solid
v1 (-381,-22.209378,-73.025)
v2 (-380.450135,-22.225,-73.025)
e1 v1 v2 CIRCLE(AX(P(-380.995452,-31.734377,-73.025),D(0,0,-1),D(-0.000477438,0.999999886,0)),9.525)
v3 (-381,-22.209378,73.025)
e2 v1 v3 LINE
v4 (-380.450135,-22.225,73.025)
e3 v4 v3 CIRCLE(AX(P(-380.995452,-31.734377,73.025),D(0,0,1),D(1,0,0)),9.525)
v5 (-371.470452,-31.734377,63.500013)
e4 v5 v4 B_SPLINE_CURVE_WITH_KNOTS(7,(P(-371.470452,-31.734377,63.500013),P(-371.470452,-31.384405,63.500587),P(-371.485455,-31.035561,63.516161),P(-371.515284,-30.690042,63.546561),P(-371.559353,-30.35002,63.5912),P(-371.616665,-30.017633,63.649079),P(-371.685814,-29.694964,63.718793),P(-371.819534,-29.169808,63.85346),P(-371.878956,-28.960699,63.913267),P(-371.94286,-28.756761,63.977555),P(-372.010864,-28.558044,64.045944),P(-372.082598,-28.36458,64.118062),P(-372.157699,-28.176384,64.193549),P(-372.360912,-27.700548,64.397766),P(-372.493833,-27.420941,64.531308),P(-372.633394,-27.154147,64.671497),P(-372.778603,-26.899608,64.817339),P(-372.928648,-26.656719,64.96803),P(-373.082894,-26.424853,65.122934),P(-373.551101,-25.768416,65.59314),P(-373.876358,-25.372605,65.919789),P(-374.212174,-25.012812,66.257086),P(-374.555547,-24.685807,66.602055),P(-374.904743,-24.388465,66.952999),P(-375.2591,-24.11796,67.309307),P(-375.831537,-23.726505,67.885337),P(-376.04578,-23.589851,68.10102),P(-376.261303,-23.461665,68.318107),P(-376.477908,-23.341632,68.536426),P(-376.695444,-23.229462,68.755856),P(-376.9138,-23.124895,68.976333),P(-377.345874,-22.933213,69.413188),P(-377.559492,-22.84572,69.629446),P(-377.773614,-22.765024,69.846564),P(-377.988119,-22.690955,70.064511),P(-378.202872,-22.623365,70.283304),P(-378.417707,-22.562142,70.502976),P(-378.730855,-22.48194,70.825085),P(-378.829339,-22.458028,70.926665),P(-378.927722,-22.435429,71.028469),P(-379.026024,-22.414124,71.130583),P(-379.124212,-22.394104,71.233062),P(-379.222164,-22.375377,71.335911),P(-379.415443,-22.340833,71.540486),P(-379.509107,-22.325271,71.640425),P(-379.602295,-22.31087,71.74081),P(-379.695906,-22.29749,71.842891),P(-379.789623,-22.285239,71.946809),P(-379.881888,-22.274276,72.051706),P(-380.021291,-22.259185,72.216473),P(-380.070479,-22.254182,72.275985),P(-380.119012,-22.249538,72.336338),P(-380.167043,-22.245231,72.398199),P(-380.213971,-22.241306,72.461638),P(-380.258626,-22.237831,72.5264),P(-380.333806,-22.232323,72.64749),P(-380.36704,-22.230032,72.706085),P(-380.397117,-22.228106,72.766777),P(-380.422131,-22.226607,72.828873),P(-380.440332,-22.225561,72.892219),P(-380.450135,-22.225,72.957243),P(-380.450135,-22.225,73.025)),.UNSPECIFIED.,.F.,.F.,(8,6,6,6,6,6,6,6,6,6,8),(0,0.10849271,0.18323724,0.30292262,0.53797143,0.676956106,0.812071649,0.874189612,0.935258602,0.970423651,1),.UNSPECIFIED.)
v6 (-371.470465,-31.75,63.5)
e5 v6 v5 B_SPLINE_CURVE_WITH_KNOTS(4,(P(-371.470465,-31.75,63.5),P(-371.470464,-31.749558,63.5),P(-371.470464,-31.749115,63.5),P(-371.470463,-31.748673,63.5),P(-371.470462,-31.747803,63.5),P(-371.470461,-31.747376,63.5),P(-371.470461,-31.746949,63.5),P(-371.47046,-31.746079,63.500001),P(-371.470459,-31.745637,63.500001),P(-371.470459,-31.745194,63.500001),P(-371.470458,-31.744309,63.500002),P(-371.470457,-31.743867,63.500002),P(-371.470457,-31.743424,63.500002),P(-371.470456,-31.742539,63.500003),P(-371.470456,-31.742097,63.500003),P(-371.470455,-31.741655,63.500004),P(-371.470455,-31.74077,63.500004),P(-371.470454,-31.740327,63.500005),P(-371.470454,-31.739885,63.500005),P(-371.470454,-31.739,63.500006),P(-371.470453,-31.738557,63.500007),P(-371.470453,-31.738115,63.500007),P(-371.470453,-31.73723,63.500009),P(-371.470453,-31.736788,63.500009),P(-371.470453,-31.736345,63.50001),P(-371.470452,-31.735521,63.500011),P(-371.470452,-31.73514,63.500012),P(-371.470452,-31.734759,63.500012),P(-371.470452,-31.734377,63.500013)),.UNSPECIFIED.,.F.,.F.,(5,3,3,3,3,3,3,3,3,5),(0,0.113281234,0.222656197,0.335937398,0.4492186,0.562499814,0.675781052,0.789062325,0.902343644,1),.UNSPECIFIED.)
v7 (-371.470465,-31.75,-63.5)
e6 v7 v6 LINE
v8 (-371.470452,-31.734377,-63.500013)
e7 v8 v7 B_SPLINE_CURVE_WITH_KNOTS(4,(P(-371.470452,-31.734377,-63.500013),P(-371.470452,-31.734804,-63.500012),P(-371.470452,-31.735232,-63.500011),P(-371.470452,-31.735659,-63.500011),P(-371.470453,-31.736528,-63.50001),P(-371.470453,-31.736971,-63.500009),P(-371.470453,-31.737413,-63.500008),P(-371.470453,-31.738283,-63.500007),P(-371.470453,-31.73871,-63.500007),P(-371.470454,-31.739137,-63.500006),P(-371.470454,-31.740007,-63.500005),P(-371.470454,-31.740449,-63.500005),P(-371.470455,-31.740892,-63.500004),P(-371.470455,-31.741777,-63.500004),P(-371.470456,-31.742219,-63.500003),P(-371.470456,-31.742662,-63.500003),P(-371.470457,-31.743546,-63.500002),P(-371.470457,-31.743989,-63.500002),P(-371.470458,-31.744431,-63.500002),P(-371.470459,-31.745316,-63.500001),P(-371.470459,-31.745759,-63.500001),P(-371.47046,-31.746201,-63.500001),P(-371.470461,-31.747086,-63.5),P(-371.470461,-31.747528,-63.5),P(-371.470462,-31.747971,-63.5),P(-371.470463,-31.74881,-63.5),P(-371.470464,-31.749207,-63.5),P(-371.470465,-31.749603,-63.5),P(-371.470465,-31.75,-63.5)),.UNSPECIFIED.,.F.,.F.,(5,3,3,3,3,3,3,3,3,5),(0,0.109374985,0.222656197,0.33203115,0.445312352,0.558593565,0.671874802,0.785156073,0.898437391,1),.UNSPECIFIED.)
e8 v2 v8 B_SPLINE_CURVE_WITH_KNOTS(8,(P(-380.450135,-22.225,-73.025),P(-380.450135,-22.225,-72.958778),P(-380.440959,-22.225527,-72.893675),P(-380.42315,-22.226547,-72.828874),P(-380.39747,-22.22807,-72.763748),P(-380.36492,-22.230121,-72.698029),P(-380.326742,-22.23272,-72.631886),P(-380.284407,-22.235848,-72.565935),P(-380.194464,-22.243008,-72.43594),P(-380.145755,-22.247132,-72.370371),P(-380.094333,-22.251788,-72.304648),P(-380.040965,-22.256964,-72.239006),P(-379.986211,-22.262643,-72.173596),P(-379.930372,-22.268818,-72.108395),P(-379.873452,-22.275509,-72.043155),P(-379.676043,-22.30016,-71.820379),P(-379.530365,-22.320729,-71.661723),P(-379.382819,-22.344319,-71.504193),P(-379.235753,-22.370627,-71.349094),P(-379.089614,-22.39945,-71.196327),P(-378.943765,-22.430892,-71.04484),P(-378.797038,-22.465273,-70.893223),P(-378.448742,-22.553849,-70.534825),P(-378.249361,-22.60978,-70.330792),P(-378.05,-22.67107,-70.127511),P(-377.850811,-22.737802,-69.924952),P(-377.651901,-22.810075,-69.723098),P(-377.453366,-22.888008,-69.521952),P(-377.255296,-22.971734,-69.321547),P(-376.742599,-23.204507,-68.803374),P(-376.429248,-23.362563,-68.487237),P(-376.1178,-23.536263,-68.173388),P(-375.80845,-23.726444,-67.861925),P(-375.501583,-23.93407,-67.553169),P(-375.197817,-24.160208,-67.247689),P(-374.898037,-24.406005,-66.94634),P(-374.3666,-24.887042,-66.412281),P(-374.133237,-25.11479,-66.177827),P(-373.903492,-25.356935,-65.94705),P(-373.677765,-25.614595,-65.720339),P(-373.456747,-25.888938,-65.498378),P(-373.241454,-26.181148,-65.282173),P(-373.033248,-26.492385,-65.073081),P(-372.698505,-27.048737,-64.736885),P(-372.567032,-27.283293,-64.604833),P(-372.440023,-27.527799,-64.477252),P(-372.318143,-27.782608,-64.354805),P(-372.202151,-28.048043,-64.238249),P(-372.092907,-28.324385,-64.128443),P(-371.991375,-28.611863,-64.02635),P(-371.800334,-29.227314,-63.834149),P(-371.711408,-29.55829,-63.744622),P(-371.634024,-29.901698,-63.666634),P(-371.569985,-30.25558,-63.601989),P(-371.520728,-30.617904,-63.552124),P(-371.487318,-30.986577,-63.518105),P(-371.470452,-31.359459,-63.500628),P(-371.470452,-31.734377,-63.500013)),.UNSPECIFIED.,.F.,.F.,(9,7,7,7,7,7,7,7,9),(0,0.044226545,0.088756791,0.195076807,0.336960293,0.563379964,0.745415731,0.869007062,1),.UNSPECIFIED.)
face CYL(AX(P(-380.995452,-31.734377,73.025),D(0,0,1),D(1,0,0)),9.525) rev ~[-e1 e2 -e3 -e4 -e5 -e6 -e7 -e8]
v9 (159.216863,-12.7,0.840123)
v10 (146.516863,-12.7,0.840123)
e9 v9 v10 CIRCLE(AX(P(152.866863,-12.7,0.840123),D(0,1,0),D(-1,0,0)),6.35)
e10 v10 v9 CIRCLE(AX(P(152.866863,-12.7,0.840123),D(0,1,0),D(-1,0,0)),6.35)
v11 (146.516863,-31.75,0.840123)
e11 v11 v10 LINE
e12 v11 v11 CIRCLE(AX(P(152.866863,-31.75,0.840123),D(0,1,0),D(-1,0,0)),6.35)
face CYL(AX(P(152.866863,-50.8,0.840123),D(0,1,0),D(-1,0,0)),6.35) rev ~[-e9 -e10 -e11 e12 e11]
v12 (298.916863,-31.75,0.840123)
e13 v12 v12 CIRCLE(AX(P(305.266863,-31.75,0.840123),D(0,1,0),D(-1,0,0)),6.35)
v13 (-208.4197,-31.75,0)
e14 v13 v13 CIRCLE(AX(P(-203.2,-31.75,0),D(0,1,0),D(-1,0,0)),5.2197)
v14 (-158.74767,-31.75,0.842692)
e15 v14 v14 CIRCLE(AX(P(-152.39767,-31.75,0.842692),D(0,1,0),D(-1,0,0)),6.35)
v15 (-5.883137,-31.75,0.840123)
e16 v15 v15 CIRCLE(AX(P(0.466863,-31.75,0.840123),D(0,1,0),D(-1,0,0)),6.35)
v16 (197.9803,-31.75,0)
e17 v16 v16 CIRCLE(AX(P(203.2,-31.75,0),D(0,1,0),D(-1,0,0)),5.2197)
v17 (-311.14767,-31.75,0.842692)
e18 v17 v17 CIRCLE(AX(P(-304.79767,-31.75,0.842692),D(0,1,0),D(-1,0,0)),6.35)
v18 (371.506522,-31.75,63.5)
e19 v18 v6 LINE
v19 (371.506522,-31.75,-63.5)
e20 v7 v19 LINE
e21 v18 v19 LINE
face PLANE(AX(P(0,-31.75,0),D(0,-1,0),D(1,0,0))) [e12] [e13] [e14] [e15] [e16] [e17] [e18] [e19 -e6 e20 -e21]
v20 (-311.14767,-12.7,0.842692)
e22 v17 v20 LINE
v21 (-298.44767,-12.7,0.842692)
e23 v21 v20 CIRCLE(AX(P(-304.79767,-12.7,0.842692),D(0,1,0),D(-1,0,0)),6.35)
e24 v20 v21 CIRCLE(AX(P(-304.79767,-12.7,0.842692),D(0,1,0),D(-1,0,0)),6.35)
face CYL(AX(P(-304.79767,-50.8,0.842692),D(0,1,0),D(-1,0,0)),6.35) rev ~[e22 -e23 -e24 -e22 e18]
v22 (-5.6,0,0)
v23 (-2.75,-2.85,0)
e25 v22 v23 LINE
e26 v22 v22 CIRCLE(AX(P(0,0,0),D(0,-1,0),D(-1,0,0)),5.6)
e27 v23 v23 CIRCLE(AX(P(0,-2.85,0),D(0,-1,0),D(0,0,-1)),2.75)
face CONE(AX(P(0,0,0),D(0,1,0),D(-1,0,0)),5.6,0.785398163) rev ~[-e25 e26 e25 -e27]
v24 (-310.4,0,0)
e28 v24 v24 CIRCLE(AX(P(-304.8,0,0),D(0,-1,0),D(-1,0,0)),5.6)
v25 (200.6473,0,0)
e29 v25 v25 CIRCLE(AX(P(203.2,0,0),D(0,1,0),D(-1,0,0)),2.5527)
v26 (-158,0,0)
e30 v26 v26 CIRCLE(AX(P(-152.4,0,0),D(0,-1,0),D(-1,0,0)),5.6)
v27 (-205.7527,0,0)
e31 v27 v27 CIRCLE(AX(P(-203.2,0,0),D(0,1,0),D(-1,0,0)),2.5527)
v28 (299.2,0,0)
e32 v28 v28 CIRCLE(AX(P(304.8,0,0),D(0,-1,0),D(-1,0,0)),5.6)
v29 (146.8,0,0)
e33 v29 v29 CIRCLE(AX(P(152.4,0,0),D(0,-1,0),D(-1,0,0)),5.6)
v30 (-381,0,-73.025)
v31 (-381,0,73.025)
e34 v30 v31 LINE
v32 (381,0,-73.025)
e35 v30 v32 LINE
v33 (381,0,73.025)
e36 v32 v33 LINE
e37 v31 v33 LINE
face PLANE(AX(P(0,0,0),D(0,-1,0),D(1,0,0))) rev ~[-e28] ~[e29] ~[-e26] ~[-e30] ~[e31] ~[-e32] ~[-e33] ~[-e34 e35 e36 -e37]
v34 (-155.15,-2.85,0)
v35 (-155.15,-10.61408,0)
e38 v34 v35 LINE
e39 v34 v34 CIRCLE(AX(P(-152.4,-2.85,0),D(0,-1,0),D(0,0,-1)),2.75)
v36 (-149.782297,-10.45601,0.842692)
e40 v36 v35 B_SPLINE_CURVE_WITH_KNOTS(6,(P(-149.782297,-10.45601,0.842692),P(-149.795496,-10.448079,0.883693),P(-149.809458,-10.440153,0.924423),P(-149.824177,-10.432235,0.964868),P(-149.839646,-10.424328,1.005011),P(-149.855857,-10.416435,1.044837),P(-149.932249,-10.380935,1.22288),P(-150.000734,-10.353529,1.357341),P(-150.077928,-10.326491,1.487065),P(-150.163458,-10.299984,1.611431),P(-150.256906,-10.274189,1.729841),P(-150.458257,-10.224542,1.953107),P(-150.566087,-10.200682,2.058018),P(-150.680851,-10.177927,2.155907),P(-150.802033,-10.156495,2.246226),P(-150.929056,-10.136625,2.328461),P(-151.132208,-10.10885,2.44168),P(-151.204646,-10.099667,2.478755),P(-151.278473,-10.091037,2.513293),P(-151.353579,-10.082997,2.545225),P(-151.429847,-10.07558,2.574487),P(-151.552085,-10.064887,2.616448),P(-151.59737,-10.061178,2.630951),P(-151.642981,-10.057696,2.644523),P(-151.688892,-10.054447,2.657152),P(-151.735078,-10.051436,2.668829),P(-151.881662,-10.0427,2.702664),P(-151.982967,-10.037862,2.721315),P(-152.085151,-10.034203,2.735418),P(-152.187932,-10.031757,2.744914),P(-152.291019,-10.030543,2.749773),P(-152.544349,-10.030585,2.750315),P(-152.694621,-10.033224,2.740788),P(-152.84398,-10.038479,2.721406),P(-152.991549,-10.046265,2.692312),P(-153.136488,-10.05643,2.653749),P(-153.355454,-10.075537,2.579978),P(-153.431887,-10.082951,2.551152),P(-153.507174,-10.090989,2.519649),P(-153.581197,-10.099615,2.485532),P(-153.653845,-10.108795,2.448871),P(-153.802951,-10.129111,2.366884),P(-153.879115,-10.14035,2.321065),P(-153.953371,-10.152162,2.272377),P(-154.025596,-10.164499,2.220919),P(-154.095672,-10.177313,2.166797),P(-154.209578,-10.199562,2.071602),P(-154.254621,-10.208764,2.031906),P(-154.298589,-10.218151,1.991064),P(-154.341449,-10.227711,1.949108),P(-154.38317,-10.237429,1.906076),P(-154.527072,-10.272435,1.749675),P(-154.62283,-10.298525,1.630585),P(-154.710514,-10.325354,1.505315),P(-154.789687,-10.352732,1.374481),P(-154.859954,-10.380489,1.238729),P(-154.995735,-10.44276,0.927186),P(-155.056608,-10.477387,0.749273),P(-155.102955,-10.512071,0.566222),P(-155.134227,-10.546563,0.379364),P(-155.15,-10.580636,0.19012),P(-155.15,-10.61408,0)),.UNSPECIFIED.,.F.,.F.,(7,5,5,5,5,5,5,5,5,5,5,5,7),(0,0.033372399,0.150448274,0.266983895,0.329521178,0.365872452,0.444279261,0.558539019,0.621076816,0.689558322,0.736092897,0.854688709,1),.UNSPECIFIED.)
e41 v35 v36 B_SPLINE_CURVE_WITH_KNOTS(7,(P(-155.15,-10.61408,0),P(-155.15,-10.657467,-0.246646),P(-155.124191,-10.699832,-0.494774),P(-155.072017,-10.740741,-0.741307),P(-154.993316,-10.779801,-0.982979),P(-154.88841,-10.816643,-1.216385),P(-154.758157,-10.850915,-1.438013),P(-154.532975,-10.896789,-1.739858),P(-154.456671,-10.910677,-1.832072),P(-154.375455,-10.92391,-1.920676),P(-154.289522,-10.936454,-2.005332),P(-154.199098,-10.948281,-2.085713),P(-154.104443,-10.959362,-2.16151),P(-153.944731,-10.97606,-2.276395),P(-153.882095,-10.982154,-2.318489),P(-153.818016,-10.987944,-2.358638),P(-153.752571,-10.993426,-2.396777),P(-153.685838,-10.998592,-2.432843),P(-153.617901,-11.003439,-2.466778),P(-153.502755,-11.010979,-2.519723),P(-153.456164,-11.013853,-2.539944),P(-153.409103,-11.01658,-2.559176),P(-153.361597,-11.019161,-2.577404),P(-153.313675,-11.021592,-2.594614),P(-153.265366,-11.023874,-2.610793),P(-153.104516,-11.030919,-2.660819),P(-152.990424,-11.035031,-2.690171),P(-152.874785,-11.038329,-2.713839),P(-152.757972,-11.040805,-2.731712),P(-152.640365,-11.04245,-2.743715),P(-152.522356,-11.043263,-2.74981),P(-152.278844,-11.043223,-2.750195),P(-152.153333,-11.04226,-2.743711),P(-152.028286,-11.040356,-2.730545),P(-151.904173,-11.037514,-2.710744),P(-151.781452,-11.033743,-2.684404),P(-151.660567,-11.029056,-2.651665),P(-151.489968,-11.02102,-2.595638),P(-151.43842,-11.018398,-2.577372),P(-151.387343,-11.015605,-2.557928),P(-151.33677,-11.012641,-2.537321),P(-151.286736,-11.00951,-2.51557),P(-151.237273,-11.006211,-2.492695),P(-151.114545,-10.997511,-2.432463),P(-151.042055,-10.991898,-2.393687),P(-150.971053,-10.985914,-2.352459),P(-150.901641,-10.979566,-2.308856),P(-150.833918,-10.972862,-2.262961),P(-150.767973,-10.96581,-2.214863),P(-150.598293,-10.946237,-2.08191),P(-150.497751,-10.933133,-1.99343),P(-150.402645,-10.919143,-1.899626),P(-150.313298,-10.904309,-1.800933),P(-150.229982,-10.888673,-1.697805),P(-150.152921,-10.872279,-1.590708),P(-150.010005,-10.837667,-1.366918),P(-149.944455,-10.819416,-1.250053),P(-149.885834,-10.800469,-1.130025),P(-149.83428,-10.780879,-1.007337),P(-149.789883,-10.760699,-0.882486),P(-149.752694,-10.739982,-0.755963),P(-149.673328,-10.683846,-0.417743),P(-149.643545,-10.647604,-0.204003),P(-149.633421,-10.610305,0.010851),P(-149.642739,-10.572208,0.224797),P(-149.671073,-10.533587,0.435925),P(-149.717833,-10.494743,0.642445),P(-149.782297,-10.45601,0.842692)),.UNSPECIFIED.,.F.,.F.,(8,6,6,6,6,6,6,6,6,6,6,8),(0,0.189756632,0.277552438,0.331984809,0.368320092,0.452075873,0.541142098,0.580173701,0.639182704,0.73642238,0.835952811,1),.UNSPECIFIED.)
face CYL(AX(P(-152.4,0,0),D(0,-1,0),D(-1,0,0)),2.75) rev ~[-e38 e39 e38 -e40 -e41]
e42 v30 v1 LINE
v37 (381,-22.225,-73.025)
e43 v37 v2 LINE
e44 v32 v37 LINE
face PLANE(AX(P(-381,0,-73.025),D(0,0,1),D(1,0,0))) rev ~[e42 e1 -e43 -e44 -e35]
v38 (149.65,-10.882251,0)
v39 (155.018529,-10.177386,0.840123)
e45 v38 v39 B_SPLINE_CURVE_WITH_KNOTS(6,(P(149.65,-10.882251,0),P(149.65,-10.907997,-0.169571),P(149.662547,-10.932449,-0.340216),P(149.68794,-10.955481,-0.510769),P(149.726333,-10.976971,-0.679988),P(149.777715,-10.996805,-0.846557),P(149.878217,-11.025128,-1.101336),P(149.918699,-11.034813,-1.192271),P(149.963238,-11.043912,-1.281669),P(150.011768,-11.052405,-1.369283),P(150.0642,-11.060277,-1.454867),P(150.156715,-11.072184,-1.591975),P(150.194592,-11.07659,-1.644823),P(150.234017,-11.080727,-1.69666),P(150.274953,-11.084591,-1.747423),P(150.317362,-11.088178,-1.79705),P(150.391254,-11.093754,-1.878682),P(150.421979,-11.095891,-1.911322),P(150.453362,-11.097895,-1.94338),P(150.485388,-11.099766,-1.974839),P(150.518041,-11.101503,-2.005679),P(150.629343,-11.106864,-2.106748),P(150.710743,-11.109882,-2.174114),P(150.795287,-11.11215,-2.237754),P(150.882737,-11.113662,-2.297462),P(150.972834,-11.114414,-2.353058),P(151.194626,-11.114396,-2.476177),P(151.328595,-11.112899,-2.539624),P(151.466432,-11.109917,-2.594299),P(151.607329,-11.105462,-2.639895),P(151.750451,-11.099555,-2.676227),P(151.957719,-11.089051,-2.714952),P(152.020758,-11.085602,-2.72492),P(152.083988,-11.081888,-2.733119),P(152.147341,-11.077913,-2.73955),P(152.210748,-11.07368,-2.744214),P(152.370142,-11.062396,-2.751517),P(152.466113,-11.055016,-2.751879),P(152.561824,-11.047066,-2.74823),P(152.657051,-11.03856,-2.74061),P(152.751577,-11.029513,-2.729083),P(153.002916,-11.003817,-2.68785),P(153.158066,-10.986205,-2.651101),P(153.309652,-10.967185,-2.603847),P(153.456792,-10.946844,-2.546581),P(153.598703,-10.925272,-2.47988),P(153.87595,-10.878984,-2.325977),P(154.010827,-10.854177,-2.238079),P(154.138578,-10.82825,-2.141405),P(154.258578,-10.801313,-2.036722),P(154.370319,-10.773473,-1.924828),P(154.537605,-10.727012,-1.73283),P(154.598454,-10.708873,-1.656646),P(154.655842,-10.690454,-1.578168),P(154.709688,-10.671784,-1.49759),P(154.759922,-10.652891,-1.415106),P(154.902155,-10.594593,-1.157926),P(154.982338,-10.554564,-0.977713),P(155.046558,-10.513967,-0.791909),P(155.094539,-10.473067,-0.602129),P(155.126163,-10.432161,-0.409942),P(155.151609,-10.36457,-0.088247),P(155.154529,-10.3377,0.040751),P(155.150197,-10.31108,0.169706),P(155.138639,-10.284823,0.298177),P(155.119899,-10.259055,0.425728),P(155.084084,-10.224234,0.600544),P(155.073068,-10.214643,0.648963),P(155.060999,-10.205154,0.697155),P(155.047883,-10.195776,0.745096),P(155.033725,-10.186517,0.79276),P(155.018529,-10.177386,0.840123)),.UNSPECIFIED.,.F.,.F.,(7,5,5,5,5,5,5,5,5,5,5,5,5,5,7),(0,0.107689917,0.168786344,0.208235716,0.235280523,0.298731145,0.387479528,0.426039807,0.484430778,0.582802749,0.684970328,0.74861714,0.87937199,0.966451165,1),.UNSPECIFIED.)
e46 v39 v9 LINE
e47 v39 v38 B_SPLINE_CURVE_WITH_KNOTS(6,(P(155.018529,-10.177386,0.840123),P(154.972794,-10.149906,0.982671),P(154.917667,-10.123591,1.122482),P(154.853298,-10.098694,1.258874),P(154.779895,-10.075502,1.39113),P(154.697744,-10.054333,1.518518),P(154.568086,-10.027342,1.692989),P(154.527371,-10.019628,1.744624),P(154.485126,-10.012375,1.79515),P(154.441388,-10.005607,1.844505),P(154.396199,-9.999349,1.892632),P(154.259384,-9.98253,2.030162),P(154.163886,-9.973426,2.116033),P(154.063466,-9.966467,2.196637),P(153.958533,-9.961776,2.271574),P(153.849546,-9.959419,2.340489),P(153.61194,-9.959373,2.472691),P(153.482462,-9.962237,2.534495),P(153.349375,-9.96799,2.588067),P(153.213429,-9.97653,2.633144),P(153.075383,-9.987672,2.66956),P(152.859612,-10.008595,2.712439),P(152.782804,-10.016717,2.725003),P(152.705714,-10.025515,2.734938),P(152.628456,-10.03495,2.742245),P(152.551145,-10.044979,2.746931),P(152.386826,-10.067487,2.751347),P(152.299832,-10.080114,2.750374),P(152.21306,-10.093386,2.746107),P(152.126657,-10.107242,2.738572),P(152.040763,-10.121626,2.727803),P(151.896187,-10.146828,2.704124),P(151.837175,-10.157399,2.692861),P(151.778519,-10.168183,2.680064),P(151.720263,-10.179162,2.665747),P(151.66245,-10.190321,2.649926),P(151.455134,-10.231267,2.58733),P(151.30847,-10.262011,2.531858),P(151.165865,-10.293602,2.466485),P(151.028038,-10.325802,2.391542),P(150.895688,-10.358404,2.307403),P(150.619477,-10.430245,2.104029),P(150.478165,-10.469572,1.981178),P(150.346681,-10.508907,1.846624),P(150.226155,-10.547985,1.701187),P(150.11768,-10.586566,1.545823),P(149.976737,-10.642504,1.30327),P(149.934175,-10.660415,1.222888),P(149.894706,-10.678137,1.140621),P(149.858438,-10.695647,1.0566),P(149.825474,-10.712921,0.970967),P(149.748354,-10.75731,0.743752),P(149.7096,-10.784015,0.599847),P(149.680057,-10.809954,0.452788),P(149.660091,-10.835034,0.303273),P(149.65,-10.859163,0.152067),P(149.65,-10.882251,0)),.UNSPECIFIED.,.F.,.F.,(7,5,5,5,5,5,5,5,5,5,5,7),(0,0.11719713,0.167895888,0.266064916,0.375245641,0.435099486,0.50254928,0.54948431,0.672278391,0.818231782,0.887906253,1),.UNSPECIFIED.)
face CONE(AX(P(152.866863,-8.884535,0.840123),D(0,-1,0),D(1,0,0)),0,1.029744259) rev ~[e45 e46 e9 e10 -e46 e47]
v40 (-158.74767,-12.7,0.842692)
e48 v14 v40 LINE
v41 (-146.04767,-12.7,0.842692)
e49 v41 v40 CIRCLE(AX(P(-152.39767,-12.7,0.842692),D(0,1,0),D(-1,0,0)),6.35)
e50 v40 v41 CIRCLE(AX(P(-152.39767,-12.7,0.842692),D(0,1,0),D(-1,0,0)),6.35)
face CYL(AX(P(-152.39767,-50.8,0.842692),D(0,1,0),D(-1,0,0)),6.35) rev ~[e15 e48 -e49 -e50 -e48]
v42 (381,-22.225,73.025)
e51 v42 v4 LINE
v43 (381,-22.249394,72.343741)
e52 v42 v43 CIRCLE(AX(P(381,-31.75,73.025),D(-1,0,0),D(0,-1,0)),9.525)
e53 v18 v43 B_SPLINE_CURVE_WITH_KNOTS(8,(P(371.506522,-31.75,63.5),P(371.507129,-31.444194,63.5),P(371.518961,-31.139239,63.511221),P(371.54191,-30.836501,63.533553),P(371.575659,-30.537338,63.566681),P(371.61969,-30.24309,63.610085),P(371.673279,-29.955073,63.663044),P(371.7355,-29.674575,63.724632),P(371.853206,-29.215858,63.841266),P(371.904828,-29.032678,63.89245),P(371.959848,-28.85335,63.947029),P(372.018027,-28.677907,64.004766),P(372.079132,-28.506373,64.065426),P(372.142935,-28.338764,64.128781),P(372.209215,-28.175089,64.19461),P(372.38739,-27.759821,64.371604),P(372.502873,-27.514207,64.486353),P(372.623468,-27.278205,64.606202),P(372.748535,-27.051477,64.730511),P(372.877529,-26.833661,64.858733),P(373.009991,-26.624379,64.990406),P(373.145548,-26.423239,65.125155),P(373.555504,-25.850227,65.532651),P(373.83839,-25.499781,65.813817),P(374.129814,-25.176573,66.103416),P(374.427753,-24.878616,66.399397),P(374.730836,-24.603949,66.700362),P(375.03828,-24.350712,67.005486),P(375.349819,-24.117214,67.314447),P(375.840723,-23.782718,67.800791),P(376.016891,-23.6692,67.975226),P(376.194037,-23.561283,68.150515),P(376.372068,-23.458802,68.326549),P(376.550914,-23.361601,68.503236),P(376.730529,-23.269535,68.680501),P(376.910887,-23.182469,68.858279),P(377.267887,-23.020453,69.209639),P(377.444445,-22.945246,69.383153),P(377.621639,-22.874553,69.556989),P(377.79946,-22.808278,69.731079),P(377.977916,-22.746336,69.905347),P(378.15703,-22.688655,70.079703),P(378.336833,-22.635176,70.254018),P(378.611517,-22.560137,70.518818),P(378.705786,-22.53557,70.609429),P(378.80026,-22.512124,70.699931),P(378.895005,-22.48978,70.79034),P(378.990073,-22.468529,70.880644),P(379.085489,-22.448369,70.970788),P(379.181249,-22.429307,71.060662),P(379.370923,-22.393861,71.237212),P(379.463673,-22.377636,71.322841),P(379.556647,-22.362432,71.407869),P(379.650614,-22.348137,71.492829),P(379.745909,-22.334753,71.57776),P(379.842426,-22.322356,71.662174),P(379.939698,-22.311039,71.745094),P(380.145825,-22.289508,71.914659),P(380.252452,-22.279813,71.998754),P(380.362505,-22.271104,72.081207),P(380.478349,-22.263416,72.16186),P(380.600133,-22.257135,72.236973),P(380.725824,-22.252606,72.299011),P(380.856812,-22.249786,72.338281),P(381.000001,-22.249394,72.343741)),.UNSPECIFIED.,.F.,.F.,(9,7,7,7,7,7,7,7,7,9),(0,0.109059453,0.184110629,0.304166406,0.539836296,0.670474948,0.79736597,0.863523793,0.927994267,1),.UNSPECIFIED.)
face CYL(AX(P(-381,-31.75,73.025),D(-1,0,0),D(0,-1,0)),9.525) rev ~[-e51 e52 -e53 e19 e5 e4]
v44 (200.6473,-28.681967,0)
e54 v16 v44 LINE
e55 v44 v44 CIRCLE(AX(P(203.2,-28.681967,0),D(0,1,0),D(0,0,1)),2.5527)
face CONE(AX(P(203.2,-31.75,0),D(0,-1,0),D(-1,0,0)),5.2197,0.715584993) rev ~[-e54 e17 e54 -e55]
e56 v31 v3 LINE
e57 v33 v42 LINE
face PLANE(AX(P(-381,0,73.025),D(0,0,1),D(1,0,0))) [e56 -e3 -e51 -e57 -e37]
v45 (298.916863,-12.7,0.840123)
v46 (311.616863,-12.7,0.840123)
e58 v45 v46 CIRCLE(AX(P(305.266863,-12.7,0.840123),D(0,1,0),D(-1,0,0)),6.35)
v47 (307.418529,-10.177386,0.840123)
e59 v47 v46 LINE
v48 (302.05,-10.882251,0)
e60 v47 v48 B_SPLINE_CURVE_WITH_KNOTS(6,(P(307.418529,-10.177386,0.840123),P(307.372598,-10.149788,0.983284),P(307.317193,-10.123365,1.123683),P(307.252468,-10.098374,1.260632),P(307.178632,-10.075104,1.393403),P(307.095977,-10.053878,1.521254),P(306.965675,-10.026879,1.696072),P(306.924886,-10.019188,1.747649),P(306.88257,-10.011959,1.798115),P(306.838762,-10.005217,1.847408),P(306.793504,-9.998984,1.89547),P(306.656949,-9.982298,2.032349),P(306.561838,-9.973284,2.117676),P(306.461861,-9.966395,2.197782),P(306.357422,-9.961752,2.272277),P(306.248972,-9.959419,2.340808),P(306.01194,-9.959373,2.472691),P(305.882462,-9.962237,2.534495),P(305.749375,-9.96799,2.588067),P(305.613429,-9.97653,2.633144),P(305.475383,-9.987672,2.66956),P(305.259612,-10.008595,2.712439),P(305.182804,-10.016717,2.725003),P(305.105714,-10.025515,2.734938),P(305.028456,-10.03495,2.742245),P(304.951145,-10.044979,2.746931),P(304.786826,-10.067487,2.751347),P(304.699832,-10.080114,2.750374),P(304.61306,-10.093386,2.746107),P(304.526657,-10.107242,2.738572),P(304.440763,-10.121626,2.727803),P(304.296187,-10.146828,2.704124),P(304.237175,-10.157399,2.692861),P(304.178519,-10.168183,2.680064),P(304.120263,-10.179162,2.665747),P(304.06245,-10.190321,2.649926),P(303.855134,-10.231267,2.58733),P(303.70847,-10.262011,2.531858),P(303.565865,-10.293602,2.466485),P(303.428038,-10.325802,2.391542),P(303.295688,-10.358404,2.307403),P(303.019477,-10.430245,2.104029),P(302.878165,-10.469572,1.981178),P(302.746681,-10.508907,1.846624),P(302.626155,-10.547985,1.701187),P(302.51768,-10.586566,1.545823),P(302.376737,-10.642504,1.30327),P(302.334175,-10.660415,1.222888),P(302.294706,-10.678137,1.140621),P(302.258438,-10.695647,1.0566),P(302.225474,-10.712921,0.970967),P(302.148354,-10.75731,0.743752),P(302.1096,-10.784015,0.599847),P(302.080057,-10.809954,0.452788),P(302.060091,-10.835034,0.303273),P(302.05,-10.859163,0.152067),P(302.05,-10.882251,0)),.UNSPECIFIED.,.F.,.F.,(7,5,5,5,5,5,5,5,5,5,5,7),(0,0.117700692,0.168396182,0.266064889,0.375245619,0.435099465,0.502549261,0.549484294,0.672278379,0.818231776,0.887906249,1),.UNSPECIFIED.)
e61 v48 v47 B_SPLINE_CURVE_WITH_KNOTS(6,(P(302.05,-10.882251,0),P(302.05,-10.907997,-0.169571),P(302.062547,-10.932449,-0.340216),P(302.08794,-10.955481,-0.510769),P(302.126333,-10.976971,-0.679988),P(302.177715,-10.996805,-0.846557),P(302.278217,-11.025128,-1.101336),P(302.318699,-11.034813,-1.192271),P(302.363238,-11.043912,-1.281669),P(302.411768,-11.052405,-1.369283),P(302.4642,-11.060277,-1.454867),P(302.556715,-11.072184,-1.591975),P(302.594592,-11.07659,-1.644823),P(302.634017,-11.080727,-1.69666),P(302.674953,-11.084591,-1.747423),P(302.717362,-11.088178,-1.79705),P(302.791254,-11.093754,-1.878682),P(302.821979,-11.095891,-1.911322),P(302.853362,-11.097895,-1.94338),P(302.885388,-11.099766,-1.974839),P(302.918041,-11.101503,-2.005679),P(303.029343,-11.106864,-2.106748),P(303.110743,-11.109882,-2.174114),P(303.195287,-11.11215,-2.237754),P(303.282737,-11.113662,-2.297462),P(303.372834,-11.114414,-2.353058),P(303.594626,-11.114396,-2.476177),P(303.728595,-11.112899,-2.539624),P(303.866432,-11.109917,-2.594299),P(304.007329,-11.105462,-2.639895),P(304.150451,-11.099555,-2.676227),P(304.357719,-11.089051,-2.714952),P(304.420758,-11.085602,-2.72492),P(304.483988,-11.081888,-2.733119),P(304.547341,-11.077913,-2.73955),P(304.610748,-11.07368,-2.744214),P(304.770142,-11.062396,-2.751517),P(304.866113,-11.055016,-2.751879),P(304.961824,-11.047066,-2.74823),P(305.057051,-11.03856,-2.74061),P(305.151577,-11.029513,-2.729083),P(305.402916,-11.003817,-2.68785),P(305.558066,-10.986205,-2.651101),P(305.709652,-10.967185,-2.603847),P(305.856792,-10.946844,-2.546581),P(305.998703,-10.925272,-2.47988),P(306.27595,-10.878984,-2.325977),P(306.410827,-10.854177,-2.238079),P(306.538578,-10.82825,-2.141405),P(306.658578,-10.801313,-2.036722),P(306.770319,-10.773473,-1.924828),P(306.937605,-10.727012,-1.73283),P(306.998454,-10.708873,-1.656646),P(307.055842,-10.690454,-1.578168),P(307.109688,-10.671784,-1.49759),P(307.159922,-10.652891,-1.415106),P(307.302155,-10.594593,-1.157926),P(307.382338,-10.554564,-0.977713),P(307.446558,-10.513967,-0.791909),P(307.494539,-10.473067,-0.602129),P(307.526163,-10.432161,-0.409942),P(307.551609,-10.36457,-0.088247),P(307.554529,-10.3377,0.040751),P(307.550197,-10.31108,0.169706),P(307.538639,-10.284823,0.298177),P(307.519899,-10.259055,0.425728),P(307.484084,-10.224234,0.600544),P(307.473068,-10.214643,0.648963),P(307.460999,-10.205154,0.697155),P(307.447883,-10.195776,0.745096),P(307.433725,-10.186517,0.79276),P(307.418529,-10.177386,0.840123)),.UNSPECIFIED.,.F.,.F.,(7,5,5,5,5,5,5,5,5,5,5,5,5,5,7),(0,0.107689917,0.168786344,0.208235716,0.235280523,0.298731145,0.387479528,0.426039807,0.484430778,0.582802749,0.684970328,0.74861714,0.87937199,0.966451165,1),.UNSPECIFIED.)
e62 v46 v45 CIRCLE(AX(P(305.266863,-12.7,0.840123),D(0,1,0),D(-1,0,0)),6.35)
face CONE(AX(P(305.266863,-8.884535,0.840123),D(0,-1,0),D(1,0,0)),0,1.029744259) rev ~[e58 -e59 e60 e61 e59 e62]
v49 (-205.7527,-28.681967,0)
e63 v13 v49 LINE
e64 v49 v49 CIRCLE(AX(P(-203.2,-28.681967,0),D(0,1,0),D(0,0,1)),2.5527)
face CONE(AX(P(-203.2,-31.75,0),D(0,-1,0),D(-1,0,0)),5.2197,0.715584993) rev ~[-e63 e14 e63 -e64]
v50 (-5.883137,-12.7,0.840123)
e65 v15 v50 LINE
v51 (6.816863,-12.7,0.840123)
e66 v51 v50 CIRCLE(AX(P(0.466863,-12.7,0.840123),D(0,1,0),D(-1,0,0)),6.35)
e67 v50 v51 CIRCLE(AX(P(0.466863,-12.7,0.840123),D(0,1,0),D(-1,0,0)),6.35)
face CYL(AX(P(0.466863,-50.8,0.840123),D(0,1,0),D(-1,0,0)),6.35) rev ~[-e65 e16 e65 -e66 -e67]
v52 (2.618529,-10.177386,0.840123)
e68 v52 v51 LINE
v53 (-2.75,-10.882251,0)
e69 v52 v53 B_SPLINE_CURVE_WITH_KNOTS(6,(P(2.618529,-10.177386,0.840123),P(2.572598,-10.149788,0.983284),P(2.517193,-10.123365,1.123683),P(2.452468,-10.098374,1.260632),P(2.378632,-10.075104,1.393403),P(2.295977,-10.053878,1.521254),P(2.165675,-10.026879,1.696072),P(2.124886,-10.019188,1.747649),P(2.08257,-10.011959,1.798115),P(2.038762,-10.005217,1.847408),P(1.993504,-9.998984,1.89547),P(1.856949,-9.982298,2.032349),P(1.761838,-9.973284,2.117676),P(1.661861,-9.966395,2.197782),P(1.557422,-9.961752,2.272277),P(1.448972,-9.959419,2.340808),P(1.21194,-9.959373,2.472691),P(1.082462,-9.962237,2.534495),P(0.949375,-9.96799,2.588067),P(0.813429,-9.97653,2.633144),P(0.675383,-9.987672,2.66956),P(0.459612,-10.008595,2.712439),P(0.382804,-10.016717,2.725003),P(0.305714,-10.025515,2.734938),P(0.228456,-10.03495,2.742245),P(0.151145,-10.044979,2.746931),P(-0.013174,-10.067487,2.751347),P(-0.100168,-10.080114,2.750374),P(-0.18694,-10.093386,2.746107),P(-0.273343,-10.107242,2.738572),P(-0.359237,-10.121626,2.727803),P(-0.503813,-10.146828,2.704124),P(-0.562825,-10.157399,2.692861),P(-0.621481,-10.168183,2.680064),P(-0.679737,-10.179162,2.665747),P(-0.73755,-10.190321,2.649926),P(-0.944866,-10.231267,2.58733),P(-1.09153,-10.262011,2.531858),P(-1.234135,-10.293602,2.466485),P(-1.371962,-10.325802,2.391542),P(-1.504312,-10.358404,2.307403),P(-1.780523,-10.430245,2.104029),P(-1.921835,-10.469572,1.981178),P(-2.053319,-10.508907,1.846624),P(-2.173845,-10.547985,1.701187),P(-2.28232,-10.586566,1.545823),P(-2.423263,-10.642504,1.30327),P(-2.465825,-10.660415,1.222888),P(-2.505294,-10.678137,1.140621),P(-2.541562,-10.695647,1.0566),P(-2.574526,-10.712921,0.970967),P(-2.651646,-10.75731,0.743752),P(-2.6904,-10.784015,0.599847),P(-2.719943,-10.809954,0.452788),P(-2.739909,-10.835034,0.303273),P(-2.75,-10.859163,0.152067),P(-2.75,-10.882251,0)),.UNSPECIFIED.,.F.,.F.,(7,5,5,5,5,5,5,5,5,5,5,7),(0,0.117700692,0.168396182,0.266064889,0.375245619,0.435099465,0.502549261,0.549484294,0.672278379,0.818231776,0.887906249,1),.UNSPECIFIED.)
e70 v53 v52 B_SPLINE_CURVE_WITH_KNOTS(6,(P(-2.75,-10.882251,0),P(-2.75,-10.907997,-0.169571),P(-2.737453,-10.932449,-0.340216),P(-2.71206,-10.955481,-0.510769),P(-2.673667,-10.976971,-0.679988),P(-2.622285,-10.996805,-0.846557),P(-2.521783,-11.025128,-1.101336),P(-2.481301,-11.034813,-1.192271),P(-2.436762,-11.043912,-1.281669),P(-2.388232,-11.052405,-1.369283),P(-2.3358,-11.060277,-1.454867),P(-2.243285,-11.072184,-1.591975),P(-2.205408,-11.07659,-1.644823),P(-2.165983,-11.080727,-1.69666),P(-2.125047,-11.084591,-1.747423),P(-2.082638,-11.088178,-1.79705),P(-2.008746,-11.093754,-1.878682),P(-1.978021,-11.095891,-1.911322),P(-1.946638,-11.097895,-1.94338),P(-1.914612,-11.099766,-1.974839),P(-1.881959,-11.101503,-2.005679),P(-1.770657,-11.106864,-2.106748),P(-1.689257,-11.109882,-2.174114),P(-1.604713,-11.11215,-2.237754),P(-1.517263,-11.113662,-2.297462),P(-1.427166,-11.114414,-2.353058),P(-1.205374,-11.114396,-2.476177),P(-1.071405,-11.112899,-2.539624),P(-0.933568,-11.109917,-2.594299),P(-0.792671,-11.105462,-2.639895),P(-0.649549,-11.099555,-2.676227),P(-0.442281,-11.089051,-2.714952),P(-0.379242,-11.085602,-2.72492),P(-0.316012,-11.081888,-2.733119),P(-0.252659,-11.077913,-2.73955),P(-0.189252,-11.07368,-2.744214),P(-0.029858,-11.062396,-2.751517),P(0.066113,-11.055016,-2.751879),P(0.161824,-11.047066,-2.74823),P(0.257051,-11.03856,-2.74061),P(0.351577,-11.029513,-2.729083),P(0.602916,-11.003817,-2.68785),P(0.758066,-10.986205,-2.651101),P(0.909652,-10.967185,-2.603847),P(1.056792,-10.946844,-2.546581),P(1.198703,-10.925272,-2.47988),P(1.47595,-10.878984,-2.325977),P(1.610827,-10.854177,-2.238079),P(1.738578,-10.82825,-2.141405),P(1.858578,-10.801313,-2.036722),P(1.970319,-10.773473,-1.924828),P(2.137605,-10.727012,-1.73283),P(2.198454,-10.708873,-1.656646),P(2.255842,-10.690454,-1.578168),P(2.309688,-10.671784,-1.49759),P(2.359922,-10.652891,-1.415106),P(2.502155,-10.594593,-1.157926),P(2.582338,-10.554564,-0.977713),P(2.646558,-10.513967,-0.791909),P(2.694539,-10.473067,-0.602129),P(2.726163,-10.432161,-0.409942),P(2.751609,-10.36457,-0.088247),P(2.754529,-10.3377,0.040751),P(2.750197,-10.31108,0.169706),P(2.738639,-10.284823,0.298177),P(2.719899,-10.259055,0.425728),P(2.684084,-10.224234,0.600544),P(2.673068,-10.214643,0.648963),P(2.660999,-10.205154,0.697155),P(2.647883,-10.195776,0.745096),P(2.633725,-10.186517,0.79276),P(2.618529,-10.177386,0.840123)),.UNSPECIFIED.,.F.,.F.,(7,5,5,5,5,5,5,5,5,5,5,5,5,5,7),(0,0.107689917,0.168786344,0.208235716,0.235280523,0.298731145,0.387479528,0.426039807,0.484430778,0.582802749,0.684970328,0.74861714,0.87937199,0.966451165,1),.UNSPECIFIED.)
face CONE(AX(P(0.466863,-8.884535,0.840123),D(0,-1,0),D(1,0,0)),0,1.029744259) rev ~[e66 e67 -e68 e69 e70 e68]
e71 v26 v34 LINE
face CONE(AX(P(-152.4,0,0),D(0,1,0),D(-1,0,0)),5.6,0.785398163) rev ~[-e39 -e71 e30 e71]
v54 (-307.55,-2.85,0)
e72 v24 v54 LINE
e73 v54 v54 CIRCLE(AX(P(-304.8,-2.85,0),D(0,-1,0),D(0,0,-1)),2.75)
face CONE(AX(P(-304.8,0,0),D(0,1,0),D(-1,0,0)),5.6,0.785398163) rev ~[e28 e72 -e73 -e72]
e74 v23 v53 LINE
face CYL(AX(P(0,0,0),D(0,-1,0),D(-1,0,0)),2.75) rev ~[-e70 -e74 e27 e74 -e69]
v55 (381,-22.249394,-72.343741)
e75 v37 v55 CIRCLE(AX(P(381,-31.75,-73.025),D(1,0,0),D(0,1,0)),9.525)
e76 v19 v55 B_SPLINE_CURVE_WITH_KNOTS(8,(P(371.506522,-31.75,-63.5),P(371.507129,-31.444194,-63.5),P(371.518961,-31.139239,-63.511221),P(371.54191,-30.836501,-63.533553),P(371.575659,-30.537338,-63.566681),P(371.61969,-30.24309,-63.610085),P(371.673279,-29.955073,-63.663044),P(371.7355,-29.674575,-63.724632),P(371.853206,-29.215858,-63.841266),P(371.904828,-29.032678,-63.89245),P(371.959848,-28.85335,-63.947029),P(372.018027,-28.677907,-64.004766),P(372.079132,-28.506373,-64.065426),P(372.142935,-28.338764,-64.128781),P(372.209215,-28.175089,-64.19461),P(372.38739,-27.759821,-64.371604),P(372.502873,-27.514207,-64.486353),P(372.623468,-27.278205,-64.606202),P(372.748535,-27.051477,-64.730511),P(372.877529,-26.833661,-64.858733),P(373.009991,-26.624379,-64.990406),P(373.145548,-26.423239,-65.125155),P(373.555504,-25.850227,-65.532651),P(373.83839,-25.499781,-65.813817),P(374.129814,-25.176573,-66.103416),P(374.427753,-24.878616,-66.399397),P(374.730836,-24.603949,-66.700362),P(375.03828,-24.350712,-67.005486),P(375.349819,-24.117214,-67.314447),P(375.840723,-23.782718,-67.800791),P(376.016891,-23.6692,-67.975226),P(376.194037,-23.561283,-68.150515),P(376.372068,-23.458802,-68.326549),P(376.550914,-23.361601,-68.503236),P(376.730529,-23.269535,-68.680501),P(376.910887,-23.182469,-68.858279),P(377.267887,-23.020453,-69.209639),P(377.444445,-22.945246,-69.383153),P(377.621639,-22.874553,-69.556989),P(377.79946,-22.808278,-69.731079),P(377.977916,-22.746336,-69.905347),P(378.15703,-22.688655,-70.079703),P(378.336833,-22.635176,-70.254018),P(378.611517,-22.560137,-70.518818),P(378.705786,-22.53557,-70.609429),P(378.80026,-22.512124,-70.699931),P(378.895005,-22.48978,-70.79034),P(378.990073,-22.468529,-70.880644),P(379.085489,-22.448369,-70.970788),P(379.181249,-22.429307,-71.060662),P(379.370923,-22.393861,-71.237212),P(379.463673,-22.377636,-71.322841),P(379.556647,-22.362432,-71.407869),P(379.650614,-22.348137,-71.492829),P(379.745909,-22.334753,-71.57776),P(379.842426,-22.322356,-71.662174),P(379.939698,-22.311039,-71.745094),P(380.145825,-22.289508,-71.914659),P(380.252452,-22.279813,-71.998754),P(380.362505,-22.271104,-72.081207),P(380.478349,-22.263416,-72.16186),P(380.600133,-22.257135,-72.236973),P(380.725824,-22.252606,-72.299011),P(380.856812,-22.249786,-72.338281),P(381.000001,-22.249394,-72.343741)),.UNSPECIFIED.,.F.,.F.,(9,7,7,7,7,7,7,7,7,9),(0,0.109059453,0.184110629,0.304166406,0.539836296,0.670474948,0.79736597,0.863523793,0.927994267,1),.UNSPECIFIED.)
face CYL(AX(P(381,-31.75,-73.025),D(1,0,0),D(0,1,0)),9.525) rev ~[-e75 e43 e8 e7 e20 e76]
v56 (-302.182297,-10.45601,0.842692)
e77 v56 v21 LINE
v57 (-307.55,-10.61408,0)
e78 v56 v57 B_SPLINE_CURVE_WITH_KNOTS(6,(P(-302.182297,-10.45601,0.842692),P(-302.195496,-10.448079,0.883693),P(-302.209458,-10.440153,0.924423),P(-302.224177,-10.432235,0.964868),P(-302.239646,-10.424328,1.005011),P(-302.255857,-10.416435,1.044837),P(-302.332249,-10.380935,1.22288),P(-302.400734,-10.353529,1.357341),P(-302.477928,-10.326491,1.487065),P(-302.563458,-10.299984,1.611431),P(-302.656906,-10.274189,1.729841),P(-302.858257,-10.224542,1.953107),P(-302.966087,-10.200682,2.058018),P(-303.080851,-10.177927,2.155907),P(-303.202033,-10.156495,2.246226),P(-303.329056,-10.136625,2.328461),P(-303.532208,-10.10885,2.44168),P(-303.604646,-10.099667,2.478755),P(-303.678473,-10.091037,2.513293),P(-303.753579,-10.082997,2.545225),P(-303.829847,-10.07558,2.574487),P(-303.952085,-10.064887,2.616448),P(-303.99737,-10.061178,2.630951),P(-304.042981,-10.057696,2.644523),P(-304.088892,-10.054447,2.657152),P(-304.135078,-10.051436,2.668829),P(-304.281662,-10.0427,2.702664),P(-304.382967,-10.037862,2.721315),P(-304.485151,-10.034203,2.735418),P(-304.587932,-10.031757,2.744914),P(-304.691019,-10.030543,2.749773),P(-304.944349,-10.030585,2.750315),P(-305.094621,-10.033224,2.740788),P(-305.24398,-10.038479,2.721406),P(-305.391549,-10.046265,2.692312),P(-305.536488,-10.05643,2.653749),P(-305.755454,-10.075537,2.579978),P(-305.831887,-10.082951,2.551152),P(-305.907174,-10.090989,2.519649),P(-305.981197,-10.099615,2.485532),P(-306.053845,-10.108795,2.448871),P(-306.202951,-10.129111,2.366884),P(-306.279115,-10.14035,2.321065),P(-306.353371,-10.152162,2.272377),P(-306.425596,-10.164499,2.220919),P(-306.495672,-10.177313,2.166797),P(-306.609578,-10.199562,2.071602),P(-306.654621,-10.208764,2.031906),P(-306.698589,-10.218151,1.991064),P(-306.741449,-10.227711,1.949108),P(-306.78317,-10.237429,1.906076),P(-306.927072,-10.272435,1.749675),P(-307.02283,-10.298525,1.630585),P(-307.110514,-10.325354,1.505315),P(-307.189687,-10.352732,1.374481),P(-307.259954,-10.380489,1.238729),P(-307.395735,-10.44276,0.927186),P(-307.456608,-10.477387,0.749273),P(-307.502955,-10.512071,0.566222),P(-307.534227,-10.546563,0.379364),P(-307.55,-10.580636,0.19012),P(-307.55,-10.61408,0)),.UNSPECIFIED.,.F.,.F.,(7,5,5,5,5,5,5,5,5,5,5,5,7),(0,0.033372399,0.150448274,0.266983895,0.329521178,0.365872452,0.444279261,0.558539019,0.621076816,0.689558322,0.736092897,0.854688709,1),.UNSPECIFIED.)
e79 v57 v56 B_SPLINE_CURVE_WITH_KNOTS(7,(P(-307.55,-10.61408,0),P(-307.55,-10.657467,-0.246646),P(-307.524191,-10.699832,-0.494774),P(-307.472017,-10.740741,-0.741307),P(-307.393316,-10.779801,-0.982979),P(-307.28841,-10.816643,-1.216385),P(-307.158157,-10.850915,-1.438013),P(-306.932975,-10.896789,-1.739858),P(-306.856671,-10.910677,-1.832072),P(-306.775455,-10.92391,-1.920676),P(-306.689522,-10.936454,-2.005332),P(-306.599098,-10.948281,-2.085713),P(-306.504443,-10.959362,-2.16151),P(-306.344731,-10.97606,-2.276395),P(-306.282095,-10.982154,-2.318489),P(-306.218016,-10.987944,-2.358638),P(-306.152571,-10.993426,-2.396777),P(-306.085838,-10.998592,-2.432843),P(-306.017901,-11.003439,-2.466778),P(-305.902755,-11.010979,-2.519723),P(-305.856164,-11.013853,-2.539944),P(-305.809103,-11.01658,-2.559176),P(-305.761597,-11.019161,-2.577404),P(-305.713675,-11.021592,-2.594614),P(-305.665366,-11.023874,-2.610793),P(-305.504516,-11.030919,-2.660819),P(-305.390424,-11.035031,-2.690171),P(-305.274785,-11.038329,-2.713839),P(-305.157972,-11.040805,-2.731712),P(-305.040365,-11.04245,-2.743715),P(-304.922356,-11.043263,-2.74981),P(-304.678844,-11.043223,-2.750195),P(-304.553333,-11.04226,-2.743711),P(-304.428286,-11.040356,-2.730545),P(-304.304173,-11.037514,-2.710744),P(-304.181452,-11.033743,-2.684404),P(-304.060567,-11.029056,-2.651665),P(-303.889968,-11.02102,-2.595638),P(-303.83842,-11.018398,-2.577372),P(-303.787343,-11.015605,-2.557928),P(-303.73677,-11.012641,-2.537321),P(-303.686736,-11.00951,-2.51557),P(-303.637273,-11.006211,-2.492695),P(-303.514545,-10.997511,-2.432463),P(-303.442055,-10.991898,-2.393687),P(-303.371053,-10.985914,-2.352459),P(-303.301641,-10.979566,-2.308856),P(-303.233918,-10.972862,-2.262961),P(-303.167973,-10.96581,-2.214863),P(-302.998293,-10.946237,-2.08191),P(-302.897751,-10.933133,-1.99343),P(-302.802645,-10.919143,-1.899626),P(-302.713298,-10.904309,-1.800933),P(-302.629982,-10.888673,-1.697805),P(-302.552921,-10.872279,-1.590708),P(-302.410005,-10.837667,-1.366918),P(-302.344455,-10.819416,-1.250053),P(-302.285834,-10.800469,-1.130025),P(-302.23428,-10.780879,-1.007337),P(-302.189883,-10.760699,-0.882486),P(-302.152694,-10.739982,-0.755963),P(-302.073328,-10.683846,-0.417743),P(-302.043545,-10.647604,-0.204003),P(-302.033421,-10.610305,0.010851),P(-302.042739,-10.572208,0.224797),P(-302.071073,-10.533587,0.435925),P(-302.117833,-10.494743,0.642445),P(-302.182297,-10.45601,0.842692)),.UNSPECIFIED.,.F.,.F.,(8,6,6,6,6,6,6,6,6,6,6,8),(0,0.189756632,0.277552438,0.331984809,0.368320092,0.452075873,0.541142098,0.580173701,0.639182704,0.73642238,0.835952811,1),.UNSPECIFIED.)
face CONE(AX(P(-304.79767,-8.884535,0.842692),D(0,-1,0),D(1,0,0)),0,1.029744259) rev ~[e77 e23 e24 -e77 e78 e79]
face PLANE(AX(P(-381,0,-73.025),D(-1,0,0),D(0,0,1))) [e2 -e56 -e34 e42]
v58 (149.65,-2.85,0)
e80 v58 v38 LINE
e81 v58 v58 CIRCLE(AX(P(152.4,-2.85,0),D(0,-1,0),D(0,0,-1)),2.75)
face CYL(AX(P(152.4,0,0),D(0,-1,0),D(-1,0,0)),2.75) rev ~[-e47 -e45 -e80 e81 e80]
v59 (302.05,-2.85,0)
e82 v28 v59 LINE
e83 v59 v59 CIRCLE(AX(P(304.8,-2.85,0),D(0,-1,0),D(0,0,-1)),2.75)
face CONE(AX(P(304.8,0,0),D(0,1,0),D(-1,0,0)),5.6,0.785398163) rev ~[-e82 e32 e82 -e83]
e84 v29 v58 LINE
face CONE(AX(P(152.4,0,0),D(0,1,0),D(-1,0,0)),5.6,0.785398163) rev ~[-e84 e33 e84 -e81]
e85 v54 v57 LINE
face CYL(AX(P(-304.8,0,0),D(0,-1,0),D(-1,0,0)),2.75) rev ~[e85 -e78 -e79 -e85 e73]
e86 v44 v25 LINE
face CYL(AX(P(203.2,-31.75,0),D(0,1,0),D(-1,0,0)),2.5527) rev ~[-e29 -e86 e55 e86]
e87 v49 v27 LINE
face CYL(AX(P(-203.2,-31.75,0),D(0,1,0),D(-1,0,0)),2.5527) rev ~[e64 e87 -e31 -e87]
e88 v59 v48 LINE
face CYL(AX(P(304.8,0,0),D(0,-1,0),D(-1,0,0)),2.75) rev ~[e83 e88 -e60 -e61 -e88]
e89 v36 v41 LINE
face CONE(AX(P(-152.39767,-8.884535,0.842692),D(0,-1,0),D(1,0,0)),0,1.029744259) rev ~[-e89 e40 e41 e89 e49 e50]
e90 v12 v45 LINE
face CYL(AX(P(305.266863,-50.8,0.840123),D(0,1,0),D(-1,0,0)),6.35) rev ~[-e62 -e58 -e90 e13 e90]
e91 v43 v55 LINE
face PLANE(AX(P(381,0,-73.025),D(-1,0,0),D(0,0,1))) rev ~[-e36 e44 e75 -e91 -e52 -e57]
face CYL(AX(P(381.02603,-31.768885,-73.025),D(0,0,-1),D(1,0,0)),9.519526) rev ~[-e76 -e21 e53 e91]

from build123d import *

# Parameters (mm, degrees)
F0_W            = 762
F0_H            = 146.05
F1_DEPTH        = 31.75
F2_R            = 9.525
F3_DEPTH        = 762.001
F4_R            = 9.525
F5_DEPTH        = 146.051
F6_R            = 9.525
F7_DEPTH        = 762.0010001
F8_R            = 9.5195259248
F9_DEPTH        = 146.0510001
F11_D           = 12.7
F11_DEPTH       = 19.05
F11_TIP         = 3.8154649308
F12_D           = 5.5
F12_CSINK_D     = 11.2
F12_CSINK_ANGLE = 90
F14_D           = 5.1054
F14_CSINK_D     = 10.4394
F14_CSINK_ANGLE = 82


with BuildPart() as f1:
    # F0 (on Front) → F1 (new body)
    with BuildSketch(Plane.XZ):
        Rectangle(F0_W, F0_H)
    extrude(amount=F1_DEPTH)

    # F2 (on face) → F3 (cut, through all)
    with BuildSketch(Plane(origin=(-381, 0, 0), x_dir=(0, -1, 0), z_dir=(-1, 0, 0))):
        with Locations((31.75, 73.025)):
            Circle(F2_R)
    extrude(amount=-F3_DEPTH, mode=Mode.SUBTRACT)

    # F4 (on face) → F5 (cut, through all)
    with BuildSketch(Plane.XY.offset(73.025)):
        with Locations((-380.995452404, -31.7343771458)):
            Circle(F4_R)
    extrude(amount=-F5_DEPTH, mode=Mode.SUBTRACT)

    # F6 (on face) → F7 (cut, through all)
    with BuildSketch(Plane.YZ.offset(381)):
        with Locations((-31.75, -73.025)):
            Circle(F6_R)
    extrude(amount=-F7_DEPTH, mode=Mode.SUBTRACT)

    # F8 (on face) → F9 (cut, through all)
    with BuildSketch(Plane(origin=(0, 0, -73.025), x_dir=(1, 0, 0), z_dir=(0, 0, -1))):
        with Locations((381.0260295868, 31.7688845098)):
            Circle(F8_R)
    extrude(amount=-F9_DEPTH, mode=Mode.SUBTRACT)

    # F11
    with Locations(Plane.XZ.offset(31.75)):
        with Locations((-304.7976701619, 0.8426916512), (-152.3976701619, 0.8426916512), (0.466863421, 0.8401229861), (152.866863421, 0.8401229861), (305.266863421, 0.8401229861)):
            Hole(F11_D / 2, depth=F11_DEPTH)
            with Locations((0, 0, -(F11_DEPTH + F11_TIP / 2))):  # 118° drill point
                Cone(0, F11_D / 2, F11_TIP, mode=Mode.SUBTRACT)

    # F12 (through all)
    with Locations(Plane(origin=(0, 0, 0), x_dir=(1, 0, 0), z_dir=(0, 1, 0))):
        with Locations((304.8, 0), (152.4, 0), (0, 0), (-152.4, 0), (-304.8, 0)):
            CounterSinkHole(F12_D / 2, F12_CSINK_D / 2, counter_sink_angle=F12_CSINK_ANGLE)

    # F14 (through all)
    with Locations(Plane.XZ.offset(31.75)):
        with Locations((-203.2, 0), (203.2, 0)):
            CounterSinkHole(F14_D / 2, F14_CSINK_D / 2, counter_sink_angle=F14_CSINK_ANGLE)


solid = f1.part
